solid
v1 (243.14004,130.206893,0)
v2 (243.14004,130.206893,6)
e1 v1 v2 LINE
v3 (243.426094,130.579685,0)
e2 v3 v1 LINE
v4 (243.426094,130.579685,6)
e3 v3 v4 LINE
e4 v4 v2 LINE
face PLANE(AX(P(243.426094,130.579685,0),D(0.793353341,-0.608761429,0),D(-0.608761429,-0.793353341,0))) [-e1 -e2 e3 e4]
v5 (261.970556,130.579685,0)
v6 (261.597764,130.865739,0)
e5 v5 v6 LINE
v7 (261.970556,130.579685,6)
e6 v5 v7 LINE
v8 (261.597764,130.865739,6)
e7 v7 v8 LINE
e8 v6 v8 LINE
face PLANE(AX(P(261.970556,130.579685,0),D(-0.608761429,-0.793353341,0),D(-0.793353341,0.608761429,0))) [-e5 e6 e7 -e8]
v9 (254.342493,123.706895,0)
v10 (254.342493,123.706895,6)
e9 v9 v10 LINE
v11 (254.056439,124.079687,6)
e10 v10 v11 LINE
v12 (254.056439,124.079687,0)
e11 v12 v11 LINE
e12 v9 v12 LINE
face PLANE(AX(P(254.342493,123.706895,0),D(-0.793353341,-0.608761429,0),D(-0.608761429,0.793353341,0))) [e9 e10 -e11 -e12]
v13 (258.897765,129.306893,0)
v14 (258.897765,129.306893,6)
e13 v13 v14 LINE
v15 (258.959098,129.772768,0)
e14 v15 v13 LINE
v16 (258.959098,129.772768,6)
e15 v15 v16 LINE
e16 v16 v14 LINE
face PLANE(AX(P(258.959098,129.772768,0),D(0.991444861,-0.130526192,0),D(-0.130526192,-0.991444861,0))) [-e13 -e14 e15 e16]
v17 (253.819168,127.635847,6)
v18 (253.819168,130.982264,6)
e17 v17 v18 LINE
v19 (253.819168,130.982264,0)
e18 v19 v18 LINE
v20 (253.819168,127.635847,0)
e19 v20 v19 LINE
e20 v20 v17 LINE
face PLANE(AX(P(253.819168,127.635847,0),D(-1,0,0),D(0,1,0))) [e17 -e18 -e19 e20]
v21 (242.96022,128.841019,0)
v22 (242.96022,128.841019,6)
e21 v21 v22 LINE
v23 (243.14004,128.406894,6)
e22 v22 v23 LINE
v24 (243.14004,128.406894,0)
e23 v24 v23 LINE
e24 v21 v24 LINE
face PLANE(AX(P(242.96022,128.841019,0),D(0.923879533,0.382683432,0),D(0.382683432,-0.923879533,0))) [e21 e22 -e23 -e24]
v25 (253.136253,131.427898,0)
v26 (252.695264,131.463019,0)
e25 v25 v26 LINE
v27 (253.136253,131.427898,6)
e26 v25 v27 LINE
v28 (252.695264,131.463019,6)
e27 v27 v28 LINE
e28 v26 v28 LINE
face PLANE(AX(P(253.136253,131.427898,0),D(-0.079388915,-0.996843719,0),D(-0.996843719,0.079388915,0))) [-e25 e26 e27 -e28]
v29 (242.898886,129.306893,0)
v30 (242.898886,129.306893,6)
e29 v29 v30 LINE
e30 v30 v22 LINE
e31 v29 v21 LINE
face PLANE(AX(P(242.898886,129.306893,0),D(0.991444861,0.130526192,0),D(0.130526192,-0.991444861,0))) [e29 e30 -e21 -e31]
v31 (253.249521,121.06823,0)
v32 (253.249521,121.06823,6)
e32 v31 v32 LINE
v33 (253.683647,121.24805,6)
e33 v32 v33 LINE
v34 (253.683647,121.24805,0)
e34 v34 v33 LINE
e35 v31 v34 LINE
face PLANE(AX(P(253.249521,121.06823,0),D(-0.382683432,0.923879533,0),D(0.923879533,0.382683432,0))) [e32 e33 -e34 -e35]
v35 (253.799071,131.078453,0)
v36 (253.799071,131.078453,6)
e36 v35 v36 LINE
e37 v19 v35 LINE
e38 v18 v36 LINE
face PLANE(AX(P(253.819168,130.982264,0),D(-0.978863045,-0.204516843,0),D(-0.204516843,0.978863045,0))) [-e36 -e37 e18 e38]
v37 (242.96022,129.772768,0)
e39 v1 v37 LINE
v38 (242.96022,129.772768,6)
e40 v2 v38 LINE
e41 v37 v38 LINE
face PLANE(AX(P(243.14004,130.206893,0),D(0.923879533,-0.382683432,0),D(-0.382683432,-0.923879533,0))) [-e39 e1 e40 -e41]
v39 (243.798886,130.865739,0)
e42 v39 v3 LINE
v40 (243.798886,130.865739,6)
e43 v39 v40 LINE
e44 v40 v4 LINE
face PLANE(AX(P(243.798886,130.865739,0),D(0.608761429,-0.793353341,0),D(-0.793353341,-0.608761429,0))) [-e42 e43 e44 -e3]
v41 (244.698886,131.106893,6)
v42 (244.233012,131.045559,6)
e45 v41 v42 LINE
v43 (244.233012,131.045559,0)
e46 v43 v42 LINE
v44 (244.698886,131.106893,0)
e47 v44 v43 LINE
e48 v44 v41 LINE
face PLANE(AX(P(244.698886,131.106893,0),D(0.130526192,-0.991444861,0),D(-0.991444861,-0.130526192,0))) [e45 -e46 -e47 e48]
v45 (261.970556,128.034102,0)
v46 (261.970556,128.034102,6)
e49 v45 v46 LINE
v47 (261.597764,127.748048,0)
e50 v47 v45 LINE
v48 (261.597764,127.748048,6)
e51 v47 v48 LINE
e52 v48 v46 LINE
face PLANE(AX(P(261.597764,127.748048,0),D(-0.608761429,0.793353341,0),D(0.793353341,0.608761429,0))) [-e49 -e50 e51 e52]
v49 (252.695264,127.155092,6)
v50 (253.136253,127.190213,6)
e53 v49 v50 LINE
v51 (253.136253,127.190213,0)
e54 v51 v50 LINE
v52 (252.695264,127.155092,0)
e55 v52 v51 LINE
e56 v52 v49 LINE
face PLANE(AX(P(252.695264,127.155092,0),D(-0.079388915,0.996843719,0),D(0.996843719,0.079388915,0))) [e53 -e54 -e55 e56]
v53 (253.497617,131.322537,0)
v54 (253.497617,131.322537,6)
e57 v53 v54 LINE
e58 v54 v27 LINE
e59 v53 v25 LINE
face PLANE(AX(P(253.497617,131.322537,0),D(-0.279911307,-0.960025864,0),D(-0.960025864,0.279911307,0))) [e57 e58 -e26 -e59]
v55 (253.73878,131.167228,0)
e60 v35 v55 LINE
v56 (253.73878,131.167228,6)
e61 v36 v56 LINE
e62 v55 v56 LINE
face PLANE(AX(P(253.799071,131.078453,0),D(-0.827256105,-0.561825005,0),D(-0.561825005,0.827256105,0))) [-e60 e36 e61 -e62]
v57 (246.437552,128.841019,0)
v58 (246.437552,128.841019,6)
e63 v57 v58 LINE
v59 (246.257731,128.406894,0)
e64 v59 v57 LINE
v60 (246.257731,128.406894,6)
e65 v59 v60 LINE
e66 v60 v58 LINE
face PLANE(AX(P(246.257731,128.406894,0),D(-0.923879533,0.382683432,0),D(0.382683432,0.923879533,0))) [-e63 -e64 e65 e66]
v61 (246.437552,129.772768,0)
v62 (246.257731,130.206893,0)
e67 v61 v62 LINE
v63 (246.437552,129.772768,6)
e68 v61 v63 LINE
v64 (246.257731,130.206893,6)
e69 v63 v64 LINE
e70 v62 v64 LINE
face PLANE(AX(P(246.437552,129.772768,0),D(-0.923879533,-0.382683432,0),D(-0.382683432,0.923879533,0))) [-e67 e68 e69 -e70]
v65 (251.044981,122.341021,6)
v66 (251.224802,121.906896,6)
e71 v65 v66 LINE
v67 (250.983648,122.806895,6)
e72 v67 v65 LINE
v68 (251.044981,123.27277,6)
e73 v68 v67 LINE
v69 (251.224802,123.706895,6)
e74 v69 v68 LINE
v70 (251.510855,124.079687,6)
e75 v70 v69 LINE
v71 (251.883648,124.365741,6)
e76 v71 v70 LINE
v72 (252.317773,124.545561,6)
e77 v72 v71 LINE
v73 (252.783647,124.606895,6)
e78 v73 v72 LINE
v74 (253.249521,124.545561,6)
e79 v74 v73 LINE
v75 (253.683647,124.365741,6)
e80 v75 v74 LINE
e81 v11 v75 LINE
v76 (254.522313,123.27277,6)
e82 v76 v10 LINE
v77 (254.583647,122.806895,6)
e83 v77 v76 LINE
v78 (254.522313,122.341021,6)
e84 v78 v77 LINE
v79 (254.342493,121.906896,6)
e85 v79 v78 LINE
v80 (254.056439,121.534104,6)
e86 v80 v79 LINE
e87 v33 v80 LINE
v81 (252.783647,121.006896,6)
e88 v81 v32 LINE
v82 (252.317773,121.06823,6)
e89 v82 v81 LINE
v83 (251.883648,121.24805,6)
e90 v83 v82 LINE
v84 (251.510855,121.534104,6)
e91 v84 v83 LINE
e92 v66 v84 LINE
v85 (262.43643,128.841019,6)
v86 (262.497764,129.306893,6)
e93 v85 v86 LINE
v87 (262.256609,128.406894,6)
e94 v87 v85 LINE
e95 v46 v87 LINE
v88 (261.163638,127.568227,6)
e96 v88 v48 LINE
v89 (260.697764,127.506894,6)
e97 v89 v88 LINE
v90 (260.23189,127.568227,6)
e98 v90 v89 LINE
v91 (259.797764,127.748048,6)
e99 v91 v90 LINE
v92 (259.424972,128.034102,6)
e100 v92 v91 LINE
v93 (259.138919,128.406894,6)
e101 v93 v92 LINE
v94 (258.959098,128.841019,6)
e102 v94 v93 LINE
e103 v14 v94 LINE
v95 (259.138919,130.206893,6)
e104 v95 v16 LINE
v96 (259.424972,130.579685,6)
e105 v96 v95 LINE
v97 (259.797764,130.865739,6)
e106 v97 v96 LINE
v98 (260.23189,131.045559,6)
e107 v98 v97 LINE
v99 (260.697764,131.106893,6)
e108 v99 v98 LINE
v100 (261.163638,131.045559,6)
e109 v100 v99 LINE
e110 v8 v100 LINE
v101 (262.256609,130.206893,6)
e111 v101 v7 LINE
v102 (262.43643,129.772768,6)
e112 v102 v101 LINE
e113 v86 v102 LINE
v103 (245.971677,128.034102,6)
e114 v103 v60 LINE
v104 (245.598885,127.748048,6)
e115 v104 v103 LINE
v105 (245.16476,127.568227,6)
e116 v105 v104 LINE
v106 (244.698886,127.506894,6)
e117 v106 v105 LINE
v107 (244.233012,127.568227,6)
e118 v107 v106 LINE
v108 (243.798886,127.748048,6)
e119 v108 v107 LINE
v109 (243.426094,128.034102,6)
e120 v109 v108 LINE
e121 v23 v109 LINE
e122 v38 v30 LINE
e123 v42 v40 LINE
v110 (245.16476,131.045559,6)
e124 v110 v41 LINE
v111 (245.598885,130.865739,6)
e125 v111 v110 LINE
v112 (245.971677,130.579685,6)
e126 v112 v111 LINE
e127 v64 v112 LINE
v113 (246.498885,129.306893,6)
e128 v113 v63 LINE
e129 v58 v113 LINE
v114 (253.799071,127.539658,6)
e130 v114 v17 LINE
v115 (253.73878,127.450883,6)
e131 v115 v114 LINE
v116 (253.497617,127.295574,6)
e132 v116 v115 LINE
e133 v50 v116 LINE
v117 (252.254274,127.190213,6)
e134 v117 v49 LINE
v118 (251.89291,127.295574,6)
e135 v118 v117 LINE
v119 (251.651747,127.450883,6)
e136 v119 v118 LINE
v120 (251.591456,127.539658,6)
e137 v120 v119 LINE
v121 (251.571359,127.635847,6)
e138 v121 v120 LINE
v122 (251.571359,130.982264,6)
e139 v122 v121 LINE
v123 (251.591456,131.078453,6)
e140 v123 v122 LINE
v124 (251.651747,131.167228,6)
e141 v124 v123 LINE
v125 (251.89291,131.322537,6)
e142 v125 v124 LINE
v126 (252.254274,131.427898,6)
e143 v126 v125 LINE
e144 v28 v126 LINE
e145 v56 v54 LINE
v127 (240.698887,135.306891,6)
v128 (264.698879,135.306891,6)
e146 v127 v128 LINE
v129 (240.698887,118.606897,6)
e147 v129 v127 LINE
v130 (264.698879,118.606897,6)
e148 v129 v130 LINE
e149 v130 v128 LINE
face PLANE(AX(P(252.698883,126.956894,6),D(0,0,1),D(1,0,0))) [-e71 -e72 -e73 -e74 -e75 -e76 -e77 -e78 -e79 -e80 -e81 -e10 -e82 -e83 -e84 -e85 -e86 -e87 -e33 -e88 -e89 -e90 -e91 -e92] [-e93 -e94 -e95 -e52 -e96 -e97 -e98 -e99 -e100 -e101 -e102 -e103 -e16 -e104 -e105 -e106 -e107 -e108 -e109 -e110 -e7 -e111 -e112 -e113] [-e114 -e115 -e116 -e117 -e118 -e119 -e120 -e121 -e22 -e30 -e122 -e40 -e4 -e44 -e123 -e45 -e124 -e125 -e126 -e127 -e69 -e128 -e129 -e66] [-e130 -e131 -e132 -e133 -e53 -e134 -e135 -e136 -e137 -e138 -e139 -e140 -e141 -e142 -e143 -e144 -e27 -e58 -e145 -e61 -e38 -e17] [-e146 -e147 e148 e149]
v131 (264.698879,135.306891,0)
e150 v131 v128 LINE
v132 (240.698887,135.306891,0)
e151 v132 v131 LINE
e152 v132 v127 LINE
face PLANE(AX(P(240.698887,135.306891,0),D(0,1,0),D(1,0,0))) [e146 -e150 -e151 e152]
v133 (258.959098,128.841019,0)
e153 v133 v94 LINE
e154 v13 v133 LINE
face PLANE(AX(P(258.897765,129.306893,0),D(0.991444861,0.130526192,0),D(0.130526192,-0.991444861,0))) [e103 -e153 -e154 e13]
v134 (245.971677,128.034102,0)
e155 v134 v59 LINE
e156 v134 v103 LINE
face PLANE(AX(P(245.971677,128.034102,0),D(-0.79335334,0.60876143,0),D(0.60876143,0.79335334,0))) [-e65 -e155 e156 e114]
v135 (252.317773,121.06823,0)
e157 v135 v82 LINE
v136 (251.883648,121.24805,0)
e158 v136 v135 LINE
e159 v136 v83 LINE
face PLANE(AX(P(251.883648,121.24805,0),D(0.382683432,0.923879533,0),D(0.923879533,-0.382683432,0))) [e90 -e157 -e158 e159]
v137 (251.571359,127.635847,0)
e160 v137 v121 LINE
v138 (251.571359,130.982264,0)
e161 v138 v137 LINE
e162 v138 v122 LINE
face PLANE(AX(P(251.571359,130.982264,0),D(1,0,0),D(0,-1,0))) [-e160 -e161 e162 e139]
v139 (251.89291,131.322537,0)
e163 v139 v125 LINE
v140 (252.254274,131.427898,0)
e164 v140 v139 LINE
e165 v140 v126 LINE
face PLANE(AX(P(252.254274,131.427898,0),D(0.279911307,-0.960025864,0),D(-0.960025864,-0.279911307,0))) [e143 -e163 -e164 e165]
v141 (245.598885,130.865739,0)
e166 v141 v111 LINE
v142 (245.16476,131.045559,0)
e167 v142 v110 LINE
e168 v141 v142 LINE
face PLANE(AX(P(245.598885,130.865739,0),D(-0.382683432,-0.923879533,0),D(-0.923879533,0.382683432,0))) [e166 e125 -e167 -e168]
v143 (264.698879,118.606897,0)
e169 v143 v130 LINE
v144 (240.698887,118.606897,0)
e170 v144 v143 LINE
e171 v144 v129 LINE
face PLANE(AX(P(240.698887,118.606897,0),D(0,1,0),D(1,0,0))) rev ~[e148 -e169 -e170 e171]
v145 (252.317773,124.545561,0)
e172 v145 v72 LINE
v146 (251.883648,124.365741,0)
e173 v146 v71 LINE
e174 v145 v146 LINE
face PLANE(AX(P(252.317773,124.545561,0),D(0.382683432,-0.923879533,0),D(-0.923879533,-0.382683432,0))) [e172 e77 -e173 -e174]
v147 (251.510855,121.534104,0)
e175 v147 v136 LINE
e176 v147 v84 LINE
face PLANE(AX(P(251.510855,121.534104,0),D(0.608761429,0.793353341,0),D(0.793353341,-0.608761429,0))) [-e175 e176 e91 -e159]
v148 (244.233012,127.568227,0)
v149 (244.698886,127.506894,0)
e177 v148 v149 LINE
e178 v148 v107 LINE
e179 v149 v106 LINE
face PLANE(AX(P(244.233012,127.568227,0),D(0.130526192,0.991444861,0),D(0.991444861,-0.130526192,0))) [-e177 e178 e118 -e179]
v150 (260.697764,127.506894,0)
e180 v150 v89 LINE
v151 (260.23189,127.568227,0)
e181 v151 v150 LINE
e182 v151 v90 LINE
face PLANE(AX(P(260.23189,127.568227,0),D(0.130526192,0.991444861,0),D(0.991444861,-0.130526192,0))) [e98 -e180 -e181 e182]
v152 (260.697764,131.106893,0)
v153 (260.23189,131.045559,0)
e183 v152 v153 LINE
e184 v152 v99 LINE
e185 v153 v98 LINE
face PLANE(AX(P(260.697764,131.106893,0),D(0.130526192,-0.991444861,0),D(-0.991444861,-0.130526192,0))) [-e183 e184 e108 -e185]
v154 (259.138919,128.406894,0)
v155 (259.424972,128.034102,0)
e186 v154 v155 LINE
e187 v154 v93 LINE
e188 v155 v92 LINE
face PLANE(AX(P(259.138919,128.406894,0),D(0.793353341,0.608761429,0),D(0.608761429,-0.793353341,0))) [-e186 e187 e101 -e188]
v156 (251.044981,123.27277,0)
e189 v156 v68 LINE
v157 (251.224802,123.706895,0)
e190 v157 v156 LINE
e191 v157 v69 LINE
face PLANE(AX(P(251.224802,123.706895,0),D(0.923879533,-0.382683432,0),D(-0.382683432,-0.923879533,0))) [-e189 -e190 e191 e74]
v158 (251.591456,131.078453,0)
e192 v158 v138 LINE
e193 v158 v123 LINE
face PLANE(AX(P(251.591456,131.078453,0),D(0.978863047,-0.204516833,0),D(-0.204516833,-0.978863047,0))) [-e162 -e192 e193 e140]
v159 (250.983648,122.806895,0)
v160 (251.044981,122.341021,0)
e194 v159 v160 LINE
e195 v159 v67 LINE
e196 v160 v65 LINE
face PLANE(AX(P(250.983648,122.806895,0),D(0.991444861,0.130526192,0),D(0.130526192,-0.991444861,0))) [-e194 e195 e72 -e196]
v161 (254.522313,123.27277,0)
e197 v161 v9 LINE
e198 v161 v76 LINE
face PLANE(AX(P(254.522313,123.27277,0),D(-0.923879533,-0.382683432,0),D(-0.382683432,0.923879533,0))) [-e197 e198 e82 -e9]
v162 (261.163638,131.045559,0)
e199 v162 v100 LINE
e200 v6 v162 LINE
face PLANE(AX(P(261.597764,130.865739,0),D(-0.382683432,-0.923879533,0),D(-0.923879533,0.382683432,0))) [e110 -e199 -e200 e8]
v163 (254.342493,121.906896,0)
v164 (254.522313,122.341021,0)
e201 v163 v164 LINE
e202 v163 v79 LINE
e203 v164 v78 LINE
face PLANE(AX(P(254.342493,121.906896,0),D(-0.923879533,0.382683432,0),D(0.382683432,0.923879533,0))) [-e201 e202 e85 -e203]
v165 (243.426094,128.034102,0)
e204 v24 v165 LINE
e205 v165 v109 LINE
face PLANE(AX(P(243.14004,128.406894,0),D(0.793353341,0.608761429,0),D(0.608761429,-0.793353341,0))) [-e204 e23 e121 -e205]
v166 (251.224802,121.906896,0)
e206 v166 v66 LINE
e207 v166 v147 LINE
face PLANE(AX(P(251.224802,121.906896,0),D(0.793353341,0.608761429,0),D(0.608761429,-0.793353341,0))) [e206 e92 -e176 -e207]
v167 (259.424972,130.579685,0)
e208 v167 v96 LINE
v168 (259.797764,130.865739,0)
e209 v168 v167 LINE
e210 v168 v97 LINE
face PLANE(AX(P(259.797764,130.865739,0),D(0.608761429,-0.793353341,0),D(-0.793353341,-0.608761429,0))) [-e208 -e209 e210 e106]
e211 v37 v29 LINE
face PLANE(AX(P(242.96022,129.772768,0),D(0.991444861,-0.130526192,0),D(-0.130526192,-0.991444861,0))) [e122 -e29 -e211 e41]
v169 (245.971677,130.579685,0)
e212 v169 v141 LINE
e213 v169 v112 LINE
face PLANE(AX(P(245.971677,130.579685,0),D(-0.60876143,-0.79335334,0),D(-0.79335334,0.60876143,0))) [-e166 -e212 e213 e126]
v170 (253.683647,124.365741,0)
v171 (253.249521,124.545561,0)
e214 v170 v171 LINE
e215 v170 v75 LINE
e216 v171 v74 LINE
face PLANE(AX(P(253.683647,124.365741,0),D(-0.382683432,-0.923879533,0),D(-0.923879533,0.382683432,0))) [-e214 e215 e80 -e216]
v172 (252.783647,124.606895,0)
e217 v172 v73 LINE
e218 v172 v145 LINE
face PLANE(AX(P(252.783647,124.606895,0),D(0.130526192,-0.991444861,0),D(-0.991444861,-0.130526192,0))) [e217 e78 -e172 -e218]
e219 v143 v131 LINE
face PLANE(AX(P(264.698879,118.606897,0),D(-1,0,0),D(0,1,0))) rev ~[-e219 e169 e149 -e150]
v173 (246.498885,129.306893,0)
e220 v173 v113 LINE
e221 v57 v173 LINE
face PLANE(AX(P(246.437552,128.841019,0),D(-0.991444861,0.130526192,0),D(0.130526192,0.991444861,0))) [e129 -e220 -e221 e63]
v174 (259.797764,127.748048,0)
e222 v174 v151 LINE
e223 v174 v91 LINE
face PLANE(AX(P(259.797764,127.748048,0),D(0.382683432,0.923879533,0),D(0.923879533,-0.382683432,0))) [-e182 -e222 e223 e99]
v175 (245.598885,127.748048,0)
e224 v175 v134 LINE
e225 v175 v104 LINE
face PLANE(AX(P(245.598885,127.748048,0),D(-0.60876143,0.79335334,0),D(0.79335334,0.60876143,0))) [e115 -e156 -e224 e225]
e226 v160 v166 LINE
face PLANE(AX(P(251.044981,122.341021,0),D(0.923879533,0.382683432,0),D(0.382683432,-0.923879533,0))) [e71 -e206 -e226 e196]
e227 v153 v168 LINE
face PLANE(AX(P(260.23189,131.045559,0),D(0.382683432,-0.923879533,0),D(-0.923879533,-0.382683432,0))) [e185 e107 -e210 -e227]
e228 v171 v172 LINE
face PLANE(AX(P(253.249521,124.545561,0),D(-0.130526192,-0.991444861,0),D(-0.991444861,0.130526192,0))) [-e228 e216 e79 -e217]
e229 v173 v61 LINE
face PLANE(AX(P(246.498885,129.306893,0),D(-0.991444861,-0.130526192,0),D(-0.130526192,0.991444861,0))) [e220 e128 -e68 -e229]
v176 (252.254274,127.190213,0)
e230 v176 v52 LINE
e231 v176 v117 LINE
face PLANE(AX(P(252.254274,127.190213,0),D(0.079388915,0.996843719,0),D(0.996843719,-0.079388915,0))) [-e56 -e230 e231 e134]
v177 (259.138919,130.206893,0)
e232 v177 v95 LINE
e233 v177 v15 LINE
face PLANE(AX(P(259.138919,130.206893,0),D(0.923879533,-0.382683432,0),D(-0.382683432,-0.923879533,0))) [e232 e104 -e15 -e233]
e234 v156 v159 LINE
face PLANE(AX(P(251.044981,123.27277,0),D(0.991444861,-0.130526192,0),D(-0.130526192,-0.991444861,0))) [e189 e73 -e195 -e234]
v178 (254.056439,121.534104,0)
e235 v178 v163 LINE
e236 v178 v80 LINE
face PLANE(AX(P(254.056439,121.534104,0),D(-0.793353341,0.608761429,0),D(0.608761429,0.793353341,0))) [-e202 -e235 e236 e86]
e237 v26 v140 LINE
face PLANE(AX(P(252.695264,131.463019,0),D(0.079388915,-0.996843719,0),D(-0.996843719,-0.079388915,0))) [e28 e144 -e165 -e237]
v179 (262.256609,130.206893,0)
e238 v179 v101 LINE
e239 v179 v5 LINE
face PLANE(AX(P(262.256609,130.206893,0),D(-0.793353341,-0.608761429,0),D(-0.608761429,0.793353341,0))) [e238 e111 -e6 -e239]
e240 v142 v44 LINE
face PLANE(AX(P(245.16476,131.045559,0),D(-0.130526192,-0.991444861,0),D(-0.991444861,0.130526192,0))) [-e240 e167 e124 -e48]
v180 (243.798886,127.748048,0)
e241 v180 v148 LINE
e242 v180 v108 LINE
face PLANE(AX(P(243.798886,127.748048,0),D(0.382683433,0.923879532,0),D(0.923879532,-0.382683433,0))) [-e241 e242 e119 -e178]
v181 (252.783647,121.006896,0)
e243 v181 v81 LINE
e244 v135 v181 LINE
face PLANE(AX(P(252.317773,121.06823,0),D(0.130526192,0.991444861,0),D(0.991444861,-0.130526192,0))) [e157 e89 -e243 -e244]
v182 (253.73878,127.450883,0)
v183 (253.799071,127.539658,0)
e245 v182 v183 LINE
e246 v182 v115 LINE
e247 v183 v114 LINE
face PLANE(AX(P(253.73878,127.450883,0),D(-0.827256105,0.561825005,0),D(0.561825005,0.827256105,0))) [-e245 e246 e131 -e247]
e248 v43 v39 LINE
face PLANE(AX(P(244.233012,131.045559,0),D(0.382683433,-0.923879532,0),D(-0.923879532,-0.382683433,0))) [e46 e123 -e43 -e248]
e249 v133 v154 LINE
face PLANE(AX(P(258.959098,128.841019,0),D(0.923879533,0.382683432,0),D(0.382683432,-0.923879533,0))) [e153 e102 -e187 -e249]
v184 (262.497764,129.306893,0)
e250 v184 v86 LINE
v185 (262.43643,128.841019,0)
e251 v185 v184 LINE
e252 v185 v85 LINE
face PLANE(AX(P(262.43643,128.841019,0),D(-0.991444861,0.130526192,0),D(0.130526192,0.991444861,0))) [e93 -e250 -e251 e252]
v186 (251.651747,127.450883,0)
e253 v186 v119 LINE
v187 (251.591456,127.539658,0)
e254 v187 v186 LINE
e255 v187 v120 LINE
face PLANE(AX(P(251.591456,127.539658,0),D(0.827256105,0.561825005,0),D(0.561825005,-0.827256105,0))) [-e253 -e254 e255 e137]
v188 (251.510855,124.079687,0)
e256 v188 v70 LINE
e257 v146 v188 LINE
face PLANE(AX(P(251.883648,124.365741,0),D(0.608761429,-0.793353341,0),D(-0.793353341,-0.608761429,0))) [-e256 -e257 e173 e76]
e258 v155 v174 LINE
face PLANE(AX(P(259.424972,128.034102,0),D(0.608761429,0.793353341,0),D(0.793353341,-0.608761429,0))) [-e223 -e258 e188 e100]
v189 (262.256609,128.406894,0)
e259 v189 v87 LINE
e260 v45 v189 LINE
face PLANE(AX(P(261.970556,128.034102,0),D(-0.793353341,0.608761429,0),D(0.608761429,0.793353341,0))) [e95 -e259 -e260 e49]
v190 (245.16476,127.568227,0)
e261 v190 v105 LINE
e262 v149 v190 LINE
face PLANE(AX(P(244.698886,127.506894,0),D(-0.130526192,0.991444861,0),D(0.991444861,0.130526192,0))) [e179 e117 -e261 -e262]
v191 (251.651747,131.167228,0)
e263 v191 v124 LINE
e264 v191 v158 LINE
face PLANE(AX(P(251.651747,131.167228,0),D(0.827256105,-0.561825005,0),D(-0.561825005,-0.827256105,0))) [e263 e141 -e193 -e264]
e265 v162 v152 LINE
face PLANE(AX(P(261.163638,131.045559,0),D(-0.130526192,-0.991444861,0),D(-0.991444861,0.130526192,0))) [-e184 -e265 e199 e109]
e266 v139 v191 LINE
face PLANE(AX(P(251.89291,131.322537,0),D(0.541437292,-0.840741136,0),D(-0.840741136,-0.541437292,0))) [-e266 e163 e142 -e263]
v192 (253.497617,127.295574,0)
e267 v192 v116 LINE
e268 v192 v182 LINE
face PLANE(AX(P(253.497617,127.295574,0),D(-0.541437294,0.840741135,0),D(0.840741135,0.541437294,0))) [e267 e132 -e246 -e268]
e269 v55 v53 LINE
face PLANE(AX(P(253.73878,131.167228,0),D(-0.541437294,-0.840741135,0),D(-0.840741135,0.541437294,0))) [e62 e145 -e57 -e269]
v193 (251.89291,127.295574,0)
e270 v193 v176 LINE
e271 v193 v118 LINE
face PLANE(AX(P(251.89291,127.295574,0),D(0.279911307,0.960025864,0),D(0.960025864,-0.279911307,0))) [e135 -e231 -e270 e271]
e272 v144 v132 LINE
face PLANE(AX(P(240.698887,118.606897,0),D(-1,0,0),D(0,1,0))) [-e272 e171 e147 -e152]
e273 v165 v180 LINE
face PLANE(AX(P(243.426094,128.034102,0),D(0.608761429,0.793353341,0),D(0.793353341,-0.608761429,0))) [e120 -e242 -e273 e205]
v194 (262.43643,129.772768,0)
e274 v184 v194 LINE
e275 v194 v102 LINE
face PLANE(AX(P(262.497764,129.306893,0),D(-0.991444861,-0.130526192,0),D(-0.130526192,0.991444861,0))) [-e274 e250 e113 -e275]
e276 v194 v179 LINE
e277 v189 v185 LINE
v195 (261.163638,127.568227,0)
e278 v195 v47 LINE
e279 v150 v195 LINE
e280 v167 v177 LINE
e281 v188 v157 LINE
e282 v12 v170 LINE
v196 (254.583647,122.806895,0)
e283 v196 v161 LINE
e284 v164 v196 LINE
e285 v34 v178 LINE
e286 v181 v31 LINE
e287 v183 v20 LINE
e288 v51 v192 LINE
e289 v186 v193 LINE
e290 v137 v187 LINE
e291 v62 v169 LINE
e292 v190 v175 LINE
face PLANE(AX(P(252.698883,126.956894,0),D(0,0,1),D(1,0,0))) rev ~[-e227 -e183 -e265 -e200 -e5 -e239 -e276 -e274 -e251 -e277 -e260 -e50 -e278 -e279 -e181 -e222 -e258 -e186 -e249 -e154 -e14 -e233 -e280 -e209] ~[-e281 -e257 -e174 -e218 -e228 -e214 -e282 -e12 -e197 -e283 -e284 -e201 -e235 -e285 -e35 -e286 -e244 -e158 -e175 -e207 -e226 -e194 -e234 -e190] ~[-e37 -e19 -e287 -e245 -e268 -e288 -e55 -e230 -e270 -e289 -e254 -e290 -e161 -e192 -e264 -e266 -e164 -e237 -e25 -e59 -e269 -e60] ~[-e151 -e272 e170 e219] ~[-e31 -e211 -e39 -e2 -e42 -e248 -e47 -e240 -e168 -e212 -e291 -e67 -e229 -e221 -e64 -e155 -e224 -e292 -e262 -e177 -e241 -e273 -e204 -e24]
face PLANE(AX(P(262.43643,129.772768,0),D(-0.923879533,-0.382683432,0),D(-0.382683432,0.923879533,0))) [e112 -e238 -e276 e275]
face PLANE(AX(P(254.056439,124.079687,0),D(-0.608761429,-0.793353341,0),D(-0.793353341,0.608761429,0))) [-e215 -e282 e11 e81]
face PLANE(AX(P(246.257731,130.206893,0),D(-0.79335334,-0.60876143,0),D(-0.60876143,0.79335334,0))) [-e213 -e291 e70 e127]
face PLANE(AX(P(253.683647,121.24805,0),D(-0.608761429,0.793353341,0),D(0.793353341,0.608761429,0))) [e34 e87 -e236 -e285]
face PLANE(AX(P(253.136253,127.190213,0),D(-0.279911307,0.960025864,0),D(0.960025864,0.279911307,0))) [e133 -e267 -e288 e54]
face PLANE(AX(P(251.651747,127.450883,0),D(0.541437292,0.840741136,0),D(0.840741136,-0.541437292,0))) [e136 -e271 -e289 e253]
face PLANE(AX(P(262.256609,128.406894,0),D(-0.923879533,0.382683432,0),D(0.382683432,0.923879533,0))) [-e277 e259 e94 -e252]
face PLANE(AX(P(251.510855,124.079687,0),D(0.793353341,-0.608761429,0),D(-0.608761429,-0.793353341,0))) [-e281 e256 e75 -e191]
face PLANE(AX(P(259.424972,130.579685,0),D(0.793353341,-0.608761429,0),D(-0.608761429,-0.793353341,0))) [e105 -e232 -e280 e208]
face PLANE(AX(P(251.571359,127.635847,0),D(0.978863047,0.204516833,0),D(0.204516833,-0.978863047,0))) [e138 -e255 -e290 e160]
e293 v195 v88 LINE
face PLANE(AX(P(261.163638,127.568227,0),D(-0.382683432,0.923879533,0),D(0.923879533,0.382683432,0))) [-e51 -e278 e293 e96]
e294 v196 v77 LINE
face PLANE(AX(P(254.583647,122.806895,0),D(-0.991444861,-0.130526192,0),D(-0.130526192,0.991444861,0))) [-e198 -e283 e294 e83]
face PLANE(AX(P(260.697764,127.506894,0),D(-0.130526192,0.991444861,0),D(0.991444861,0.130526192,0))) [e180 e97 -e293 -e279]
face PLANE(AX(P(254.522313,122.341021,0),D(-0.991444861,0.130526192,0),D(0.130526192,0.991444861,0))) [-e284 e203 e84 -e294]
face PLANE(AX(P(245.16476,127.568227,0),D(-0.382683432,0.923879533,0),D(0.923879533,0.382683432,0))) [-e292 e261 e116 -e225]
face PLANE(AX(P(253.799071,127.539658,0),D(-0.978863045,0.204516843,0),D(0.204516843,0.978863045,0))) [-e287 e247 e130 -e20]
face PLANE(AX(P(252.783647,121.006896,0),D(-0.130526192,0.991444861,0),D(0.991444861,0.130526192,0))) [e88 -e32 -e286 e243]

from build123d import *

# Parameters (mm, degrees)
SKETCH1_W           = 23.99999232
SKETCH1_H           = 16.699994656
BOSS_EXTRUDE1_DEPTH = 6


with BuildPart() as part:
    # Sketch1 → Boss-Extrude1 (new body)
    with BuildSketch(Plane.XY):
        with Locations((252.698883135, 126.95689416)):
            Rectangle(SKETCH1_W, SKETCH1_H)
        Polygon((242.898886271, 129.306893408), (242.960219764, 128.841019276), (243.140040467, 128.406893696), (243.426093896, 128.034101609), (243.798885983, 127.74804818), (244.233011562, 127.568227477), (244.698885695, 127.506893984), (245.164759827, 127.568227477), (245.598885407, 127.74804818), (245.971677493, 128.034101609), (246.257730923, 128.406893696), (246.437551626, 128.841019276), (246.498885119, 129.306893408), (246.437551626, 129.77276754), (246.257730923, 130.20689312), (245.971677493, 130.579685207), (245.598885407, 130.865738636), (245.164759827, 131.045559339), (244.698885695, 131.106892832), (244.233011562, 131.045559339), (243.798885983, 130.865738636), (243.426093896, 130.579685207), (243.140040467, 130.20689312), (242.960219764, 129.77276754), align=None, mode=Mode.SUBTRACT)
        Polygon((258.89776474, 129.306893408), (258.959098233, 128.841019276), (259.138918936, 128.406893696), (259.424972365, 128.034101609), (259.797764452, 127.74804818), (260.231890032, 127.568227477), (260.697764164, 127.506893984), (261.163638296, 127.568227477), (261.597763876, 127.74804818), (261.970555963, 128.034101609), (262.256609392, 128.406893696), (262.436430095, 128.841019276), (262.497763588, 129.306893408), (262.436430095, 129.77276754), (262.256609392, 130.20689312), (261.970555963, 130.579685207), (261.597763876, 130.865738636), (261.163638296, 131.045559339), (260.697764164, 131.106892832), (260.231890032, 131.045559339), (259.797764452, 130.865738636), (259.424972365, 130.579685207), (259.138918936, 130.20689312), (258.959098233, 129.77276754), align=None, mode=Mode.SUBTRACT)
        Polygon((251.224802071, 121.906895776), (251.5108555, 121.534103689), (251.883647587, 121.24805026), (252.317773167, 121.068229557), (252.783647299, 121.006896064), (253.249521431, 121.068229557), (253.683647011, 121.24805026), (254.056439098, 121.534103689), (254.342492527, 121.906895776), (254.52231323, 122.341021356), (254.583646723, 122.806895488), (254.52231323, 123.27276962), (254.342492527, 123.7068952), (254.056439098, 124.079687287), (253.683647011, 124.365740716), (253.249521431, 124.545561419), (252.783647299, 124.606894912), (252.317773167, 124.545561419), (251.883647587, 124.365740716), (251.5108555, 124.079687287), (251.224802071, 123.7068952), (251.044981368, 123.27276962), (250.983647875, 122.806895488), (251.044981368, 122.341021356), align=None, mode=Mode.SUBTRACT)
        Polygon((251.571359171, 127.63584663), (251.591456112, 127.539658201), (251.651746937, 127.450883311), (251.892910238, 127.295574145), (252.254274091, 127.190212579), (252.695263515, 127.155092057), (253.13625294, 127.190212579), (253.497616793, 127.295574145), (253.738780093, 127.450883311), (253.799070918, 127.539658201), (253.81916786, 127.63584663), (253.81916786, 130.982264313), (253.799070918, 131.078452742), (253.738780093, 131.167227632), (253.497616793, 131.322536798), (253.13625294, 131.427898364), (252.695263515, 131.463018886), (252.254274091, 131.427898364), (251.892910238, 131.322536798), (251.651746937, 131.167227632), (251.591456112, 131.078452742), (251.571359171, 130.982264313), align=None, mode=Mode.SUBTRACT)
    extrude(amount=BOSS_EXTRUDE1_DEPTH)


solid = part.part
